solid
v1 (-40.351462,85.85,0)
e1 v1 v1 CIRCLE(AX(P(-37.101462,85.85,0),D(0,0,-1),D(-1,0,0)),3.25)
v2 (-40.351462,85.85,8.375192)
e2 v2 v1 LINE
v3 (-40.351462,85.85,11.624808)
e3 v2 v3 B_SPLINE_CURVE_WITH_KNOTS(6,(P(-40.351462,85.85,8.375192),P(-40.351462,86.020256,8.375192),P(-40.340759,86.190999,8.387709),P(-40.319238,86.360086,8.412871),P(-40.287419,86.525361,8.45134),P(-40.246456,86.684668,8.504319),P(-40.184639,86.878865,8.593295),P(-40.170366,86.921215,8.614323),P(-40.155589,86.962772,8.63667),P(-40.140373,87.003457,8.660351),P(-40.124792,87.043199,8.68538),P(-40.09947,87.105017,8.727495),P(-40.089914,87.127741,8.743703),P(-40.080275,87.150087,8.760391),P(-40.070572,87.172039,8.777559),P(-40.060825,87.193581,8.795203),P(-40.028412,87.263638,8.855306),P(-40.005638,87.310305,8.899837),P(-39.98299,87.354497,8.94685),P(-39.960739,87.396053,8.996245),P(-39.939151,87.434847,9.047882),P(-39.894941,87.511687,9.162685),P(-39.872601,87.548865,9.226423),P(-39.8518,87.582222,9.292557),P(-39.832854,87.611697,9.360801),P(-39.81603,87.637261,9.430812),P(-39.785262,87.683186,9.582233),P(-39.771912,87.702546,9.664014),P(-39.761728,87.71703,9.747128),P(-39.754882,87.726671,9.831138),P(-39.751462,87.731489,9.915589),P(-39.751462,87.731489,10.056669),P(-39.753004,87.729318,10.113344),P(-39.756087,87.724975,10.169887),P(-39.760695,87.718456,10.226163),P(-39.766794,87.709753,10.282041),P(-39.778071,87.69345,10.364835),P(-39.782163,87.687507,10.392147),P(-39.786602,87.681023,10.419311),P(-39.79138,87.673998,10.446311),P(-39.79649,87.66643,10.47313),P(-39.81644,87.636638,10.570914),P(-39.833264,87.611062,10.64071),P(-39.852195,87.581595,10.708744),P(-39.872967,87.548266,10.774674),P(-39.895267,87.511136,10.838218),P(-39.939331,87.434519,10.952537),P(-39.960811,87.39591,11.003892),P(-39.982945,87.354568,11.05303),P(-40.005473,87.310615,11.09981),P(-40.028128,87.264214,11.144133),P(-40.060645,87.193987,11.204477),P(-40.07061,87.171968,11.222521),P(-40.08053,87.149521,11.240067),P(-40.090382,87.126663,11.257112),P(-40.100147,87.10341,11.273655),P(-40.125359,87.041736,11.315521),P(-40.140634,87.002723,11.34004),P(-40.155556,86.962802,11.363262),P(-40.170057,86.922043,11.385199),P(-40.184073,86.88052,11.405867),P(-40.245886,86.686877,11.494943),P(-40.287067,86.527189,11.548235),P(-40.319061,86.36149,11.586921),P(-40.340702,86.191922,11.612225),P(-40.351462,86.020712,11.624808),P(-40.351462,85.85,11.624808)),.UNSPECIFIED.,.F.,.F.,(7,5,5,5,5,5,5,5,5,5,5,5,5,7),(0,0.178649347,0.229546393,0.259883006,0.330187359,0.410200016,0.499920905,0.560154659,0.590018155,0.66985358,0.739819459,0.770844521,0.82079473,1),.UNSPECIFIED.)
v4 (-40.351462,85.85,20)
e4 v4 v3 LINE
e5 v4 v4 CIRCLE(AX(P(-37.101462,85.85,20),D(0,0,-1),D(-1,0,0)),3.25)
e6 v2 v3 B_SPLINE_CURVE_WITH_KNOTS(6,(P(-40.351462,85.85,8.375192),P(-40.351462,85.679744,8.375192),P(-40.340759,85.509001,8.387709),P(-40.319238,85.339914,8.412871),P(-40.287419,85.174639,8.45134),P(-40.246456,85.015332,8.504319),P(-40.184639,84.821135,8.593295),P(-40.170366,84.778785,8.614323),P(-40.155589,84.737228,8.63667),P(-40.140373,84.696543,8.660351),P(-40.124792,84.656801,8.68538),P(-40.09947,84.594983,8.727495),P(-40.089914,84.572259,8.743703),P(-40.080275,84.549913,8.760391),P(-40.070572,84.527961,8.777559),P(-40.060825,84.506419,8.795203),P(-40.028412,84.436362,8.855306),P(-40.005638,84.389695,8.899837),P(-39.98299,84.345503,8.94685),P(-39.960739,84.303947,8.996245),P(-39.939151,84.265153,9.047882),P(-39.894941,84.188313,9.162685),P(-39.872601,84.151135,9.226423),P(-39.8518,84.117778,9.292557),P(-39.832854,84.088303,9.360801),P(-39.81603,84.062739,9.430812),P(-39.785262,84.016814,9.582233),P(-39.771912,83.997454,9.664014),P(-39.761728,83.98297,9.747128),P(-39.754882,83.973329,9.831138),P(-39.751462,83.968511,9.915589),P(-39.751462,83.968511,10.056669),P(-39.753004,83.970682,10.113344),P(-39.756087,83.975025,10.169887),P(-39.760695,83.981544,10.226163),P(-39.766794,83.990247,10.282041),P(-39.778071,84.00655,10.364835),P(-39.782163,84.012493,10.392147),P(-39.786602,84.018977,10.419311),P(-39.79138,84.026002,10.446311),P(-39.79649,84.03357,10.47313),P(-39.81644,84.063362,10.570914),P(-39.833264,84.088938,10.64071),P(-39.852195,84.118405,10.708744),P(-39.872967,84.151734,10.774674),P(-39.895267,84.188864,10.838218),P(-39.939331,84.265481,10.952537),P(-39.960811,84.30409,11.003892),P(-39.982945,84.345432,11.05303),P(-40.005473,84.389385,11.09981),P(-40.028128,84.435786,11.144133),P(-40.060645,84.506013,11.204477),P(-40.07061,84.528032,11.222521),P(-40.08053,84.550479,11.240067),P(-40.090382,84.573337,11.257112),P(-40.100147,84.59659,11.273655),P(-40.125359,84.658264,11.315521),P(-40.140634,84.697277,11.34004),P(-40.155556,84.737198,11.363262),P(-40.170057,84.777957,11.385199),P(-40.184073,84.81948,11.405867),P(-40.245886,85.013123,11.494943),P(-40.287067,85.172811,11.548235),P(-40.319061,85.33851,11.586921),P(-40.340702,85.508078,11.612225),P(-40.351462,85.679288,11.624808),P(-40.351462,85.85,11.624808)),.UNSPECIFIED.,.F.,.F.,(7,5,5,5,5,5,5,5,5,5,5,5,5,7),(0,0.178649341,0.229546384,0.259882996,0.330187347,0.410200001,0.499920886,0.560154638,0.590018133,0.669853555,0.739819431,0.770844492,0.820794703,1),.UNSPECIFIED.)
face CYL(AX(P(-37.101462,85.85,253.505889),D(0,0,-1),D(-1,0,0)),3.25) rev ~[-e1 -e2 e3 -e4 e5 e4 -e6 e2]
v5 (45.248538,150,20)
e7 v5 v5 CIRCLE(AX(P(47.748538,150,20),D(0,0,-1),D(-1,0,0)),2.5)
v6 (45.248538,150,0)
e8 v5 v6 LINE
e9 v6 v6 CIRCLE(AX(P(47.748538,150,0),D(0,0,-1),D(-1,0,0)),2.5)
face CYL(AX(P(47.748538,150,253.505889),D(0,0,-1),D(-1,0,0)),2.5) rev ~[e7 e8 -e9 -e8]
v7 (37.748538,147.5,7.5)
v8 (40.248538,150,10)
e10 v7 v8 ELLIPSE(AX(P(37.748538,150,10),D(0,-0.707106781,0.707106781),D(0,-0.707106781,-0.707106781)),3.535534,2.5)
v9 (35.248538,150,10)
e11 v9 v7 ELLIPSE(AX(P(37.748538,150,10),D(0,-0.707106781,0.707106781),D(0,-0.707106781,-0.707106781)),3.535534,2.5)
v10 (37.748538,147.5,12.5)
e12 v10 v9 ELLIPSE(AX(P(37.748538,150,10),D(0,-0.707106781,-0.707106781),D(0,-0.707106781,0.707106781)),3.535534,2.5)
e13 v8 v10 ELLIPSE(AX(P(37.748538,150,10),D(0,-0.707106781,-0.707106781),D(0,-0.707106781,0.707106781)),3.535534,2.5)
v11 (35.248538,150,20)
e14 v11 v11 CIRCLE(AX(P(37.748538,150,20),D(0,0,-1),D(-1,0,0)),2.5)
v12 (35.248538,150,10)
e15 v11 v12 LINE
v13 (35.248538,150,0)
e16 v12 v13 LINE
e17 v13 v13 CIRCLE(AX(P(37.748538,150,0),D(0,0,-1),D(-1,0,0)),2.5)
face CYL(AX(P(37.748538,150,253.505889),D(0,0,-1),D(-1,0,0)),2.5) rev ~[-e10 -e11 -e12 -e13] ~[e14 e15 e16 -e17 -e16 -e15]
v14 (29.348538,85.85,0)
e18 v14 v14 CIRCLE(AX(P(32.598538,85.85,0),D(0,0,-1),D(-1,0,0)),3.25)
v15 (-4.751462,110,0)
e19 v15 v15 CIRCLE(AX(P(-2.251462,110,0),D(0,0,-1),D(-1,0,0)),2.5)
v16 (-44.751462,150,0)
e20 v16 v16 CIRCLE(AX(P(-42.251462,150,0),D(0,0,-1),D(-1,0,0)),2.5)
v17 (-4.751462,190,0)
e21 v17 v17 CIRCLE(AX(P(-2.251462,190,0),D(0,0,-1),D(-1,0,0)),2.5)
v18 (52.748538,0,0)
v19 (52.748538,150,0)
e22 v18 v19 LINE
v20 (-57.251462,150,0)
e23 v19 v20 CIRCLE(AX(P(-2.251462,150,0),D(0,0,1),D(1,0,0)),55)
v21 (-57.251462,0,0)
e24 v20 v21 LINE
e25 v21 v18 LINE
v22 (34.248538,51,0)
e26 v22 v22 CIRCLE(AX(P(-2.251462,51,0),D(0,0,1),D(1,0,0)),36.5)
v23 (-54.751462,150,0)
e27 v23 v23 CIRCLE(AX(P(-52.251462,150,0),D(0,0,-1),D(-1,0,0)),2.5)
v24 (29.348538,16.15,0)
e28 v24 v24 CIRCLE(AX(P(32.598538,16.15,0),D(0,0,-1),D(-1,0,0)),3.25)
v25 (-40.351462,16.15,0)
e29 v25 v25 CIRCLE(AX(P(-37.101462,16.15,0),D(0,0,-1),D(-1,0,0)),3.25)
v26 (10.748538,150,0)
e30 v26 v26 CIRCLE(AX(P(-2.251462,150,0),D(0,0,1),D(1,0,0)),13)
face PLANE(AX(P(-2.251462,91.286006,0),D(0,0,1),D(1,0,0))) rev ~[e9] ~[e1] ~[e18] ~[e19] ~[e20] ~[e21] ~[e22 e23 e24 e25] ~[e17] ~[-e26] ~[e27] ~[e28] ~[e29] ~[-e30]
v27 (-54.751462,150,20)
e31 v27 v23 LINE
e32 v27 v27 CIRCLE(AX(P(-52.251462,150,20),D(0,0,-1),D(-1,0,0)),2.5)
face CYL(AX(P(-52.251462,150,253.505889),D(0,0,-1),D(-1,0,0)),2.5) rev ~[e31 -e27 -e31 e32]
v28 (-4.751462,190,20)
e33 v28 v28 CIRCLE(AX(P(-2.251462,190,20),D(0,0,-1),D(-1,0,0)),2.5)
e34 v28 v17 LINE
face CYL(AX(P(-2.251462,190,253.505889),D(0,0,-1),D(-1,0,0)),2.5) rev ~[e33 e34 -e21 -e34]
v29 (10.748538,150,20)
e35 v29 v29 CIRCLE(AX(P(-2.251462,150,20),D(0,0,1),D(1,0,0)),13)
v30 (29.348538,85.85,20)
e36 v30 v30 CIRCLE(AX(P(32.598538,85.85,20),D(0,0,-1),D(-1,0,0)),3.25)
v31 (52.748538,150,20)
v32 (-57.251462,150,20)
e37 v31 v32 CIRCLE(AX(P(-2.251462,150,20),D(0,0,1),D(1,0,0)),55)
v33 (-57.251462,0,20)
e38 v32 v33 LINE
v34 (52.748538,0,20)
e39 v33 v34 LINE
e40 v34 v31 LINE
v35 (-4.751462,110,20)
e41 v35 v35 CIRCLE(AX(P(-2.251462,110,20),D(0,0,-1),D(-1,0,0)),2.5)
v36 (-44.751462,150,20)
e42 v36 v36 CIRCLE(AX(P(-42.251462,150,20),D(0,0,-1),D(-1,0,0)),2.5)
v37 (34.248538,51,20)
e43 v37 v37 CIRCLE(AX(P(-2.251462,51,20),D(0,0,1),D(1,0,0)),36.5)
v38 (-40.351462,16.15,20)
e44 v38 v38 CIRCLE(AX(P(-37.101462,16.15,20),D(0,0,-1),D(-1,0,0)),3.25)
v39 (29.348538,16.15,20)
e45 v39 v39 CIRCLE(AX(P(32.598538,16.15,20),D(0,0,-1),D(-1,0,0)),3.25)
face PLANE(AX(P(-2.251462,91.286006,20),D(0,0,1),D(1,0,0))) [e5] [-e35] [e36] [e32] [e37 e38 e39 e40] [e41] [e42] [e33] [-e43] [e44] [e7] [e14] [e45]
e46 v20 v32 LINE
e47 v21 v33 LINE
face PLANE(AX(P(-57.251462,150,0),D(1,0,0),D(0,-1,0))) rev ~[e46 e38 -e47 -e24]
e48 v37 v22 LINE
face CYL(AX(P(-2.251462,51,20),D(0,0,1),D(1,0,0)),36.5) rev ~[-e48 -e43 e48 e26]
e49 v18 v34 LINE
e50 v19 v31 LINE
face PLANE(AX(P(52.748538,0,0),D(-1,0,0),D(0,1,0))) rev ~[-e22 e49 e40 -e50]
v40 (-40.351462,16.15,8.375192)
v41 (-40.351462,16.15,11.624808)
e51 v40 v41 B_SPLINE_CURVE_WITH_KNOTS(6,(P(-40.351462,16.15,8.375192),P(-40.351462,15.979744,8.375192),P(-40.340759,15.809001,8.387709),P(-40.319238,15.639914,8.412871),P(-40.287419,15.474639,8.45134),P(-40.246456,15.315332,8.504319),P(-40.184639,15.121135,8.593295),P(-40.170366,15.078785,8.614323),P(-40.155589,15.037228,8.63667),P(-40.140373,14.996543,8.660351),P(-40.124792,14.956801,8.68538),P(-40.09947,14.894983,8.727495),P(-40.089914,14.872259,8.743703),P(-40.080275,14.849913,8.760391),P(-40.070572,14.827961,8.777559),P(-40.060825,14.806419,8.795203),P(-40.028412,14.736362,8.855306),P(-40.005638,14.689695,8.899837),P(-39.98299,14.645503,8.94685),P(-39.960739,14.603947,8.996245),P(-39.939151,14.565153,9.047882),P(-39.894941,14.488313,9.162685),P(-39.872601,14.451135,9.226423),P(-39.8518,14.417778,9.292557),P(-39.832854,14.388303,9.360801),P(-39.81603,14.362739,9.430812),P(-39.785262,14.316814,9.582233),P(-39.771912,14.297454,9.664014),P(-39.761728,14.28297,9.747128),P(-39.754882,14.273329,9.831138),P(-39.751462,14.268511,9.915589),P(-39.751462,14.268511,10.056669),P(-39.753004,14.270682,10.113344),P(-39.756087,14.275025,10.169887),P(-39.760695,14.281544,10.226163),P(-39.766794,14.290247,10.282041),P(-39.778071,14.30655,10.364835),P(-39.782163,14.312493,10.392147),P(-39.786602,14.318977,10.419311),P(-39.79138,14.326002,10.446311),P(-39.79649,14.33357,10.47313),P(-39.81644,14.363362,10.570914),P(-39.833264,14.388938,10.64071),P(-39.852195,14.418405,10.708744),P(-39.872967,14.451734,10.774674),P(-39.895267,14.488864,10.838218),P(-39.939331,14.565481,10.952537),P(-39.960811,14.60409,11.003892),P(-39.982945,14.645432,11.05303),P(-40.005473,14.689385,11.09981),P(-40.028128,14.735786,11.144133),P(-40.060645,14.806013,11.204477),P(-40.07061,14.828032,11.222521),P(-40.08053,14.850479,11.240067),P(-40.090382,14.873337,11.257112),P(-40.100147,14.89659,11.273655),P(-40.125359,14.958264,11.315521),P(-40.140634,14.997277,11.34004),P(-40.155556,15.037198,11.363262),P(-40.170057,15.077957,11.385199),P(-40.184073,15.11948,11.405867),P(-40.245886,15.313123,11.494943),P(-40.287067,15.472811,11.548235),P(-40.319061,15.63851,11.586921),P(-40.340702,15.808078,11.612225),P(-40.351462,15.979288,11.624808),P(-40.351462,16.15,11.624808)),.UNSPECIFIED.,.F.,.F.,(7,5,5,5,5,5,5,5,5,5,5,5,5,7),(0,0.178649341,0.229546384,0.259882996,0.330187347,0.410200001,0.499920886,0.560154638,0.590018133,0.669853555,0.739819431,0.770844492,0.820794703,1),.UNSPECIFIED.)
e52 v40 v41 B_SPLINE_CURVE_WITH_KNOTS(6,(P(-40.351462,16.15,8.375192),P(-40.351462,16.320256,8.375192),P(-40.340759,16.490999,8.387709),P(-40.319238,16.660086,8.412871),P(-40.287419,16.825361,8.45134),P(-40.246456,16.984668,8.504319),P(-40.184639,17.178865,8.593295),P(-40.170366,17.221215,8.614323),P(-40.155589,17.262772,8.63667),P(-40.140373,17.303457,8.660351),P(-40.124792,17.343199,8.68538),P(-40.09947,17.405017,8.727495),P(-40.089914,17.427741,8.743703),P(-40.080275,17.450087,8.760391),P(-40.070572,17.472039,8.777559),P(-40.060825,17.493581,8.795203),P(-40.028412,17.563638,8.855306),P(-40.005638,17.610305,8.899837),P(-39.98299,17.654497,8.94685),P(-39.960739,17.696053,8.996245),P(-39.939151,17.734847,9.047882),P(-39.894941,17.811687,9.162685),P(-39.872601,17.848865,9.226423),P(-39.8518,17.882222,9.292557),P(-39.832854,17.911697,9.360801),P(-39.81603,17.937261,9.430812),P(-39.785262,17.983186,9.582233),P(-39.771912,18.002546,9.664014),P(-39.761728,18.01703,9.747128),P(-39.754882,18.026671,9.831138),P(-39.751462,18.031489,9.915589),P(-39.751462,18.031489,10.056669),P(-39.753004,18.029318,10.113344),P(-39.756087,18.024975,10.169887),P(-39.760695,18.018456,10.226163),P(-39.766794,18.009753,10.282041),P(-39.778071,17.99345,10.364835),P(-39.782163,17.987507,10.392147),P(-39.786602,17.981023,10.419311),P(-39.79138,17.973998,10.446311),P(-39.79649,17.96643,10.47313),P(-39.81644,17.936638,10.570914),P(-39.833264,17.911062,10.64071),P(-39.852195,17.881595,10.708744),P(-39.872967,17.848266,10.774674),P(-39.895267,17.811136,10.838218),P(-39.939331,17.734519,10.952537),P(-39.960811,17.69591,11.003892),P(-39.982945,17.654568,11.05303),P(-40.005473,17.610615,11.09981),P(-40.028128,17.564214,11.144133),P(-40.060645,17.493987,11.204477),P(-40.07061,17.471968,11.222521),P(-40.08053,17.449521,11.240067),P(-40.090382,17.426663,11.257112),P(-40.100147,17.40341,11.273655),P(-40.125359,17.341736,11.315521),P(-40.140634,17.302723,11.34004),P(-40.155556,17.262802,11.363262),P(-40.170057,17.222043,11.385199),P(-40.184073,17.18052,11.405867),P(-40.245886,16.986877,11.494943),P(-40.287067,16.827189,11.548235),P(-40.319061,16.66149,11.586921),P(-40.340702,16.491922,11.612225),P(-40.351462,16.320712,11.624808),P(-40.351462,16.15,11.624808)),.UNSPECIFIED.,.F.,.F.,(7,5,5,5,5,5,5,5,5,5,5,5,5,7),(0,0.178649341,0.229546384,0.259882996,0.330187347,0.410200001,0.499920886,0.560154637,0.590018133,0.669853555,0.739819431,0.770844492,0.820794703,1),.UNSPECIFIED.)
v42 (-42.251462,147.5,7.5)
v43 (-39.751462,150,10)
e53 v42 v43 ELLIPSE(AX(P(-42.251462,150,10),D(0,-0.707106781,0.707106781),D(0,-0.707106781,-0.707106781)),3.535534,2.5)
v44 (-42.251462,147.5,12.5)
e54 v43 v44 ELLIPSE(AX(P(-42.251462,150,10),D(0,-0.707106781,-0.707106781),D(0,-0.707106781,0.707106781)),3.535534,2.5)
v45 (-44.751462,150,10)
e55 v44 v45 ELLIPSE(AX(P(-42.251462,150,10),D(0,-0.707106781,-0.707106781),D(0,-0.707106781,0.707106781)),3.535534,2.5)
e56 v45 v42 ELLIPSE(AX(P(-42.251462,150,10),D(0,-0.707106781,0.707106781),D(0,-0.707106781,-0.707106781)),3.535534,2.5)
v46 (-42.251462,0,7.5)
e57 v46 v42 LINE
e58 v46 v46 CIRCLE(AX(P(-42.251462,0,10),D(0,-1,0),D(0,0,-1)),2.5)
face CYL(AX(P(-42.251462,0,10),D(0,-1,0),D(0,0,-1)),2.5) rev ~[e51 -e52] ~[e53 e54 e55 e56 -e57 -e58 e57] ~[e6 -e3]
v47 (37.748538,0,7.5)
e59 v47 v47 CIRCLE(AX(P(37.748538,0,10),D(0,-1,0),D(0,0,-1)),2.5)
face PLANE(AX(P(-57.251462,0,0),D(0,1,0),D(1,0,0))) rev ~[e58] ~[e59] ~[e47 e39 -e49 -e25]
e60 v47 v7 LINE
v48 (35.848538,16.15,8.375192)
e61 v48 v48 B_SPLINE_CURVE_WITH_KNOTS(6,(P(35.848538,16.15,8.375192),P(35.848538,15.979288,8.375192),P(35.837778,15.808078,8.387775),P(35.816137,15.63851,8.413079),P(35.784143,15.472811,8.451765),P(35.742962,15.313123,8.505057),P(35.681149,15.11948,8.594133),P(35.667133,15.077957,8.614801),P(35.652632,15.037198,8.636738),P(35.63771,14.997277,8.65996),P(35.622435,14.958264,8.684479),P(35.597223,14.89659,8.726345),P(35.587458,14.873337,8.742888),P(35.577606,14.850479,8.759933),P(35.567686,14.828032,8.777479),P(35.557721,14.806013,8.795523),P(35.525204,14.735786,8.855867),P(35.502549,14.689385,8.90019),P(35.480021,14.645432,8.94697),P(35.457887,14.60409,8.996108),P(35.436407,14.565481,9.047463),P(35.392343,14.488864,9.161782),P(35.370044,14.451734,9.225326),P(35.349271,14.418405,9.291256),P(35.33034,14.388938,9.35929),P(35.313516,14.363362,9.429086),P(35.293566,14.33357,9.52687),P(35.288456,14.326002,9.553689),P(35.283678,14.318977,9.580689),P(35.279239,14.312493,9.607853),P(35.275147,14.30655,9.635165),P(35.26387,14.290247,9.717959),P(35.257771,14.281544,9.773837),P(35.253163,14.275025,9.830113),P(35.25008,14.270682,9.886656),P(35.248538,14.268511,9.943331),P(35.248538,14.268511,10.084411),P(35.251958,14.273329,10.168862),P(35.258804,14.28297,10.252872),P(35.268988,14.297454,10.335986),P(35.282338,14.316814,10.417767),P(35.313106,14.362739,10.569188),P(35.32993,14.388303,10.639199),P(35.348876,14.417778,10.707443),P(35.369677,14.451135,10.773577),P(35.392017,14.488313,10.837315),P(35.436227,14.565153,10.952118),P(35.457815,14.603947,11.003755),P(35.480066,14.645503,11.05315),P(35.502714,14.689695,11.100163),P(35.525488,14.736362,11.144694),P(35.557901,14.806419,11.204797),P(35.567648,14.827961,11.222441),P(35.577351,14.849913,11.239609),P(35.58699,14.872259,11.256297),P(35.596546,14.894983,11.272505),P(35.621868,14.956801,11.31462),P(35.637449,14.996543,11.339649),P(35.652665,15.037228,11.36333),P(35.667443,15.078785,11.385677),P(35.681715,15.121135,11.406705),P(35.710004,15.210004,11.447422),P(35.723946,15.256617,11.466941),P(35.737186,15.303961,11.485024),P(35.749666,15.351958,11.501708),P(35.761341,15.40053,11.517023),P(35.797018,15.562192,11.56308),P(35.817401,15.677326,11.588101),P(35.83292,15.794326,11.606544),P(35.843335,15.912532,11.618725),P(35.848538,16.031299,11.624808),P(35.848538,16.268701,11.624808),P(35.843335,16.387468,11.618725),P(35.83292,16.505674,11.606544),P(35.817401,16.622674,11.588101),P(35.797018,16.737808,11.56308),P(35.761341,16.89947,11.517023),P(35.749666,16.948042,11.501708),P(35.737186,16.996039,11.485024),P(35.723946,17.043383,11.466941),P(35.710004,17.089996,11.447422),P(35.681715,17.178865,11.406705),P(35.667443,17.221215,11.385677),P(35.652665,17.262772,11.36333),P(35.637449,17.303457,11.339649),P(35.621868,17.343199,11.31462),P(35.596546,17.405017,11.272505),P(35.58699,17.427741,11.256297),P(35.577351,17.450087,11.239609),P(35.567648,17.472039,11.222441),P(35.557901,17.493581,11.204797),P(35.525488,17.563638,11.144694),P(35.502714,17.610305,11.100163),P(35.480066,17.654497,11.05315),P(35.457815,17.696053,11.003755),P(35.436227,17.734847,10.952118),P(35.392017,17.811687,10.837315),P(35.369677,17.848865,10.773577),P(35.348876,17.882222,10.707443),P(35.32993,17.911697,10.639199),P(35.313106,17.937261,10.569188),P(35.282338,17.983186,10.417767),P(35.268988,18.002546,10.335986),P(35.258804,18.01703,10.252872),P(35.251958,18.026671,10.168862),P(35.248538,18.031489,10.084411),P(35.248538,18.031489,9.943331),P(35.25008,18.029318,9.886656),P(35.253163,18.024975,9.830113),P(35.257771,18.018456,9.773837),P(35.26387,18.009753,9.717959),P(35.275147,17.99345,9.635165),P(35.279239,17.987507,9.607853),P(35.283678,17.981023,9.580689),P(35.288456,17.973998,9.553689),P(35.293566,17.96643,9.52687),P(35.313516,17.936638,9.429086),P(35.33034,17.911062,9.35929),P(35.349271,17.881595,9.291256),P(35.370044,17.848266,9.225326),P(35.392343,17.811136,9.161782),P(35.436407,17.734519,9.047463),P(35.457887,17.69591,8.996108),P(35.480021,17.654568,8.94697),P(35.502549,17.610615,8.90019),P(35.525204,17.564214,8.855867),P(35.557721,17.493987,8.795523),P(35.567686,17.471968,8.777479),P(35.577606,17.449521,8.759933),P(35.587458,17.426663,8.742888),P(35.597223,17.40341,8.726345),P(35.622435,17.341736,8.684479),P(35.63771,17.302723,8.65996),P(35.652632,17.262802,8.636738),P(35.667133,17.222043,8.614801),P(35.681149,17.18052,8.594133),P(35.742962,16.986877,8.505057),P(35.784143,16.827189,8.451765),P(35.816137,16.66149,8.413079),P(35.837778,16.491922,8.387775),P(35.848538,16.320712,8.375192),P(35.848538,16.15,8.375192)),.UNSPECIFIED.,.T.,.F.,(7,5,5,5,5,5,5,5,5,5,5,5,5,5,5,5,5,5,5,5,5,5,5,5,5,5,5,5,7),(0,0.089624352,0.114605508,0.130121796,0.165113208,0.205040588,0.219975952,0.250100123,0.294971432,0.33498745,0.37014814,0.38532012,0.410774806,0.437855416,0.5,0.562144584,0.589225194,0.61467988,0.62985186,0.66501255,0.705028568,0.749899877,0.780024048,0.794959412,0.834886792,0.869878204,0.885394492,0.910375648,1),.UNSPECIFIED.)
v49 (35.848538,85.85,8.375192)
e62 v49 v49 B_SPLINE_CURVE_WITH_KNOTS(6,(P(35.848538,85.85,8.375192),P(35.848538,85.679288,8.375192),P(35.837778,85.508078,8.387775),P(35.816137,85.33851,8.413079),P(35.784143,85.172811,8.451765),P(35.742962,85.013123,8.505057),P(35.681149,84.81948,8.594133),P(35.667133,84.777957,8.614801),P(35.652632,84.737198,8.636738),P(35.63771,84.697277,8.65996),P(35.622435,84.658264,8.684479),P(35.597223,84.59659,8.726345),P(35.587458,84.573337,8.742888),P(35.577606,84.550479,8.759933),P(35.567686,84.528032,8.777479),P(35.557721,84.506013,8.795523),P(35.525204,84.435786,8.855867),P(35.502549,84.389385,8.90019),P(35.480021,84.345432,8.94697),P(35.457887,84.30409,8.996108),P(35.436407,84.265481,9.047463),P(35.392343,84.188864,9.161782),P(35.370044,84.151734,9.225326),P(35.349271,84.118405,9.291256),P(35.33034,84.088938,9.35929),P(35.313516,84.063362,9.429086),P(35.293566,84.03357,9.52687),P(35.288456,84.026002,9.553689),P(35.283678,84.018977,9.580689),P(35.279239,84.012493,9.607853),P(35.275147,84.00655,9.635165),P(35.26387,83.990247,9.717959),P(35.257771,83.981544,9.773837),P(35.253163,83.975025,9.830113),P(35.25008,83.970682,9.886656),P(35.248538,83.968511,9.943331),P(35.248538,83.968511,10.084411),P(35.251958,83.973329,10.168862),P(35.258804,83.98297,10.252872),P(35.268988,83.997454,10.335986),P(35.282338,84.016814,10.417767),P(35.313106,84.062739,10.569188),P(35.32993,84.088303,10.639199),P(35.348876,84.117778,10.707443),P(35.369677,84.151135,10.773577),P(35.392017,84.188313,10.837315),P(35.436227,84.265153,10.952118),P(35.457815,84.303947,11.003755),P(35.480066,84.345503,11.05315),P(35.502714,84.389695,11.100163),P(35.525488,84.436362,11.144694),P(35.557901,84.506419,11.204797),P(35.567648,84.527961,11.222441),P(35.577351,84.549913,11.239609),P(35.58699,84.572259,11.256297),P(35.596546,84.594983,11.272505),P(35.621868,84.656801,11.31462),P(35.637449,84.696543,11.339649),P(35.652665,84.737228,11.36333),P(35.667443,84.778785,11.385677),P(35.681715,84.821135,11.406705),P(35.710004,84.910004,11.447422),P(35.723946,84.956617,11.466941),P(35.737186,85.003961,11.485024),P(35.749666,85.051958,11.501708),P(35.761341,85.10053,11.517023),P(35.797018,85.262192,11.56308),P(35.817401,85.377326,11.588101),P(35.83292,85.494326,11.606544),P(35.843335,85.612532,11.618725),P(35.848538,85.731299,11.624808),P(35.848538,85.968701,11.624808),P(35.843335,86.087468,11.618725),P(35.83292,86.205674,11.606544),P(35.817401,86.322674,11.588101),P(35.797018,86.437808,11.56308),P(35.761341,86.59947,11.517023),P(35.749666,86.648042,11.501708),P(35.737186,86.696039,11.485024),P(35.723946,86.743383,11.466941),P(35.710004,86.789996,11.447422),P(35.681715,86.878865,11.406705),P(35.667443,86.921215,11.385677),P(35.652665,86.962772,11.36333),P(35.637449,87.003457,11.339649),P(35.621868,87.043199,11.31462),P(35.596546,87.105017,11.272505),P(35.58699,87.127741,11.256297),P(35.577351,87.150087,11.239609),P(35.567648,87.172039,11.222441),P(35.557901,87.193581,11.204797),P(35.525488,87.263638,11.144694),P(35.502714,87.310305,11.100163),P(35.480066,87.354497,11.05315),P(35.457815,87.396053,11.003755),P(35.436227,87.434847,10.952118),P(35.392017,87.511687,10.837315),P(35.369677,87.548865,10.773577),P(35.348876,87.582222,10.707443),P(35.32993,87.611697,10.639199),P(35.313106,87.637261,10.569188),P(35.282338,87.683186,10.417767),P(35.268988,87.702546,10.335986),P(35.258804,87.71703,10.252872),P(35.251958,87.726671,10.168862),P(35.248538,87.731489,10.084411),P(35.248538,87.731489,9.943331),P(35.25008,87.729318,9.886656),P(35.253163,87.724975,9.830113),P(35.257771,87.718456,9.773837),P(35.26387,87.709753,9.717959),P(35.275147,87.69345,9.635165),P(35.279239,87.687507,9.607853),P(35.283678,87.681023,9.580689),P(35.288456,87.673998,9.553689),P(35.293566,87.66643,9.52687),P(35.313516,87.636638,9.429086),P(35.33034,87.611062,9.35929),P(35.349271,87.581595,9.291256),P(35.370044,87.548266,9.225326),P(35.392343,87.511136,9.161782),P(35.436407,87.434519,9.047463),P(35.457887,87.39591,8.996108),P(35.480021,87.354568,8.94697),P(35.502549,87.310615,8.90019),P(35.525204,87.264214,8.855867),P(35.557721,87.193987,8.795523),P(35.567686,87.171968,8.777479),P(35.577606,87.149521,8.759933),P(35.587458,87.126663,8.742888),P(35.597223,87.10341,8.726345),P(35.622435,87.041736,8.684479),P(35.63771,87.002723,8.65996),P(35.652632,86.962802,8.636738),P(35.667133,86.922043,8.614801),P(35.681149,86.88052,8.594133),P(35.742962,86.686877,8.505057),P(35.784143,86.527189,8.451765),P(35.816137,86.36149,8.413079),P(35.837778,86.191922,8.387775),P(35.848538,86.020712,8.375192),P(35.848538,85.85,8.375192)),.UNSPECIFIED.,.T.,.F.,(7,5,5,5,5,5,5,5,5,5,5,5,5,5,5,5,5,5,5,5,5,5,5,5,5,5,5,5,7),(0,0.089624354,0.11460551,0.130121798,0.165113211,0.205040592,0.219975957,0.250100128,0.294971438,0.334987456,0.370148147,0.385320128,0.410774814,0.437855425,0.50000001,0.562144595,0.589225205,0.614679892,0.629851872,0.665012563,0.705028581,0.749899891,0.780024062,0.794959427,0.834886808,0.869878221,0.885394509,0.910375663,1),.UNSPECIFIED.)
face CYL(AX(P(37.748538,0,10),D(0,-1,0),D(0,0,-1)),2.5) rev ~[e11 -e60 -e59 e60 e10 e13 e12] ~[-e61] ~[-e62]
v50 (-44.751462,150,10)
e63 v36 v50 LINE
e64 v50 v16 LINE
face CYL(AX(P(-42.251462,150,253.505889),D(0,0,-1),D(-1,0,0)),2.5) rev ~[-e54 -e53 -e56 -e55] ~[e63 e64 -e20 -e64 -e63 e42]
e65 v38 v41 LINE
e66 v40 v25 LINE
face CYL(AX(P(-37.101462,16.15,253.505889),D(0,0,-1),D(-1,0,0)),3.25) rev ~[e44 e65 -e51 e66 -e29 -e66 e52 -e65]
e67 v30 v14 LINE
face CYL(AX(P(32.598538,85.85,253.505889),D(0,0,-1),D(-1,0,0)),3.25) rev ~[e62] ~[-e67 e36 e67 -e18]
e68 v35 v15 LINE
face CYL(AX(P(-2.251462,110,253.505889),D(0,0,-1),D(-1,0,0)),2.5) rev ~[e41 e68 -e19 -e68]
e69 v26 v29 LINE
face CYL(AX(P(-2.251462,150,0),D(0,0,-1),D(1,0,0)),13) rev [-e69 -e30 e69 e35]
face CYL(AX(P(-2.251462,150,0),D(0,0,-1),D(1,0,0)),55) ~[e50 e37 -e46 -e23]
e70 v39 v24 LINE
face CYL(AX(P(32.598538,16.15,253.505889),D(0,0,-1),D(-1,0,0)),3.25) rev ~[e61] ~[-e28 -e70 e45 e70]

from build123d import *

# Parameters (mm, degrees)
SKETCH1_R                  = 13
BOSS_EXTRUDE1_DEPTH        = 20
F_5_0MM_DOWEL_HOLE1_D      = 5
F_5_0MM_DOWEL_HOLE2_REACH  = 228.164
F_5_0MM_DOWEL_HOLE2_BORE_R = 2.5
F_5_0MM_DOWEL_HOLE3_D      = 5
SKETCH9_R                  = 36.5
CUT_EXTRUDE1_DEPTH         = 214.781968135
F_6_0MM_DOWEL_HOLE1_D      = 6.5


with BuildPart() as part:
    # Sketch1 → Boss-Extrude1 (new body)
    with BuildSketch(Plane.XY):
        with BuildLine():
            Line((-57.251461988, 0), (52.748538012, 0))
            Line((52.748538012, 0), (52.748538012, 150))
            ThreePointArc((52.748538012, 150), (-2.251461988, 205), (-57.251461988, 150))
            Line((-57.251461988, 150), (-57.251461988, 0))
        make_face()
        with Locations((-2.251461988, 150)):
            Circle(SKETCH1_R, mode=Mode.SUBTRACT)
    extrude(amount=BOSS_EXTRUDE1_DEPTH)

    # Ø5.0mm Dowel Hole1 (through all)
    with Locations(Plane(origin=(-2.251461988, 190, 20), x_dir=(1, 0, 0), z_dir=(0, 0, 1))):
        with Locations((0, 0), (40, -40), (0, -80), (-40, -40)):
            Hole(F_5_0MM_DOWEL_HOLE1_D / 2)

    # Ø5.0mm Dowel Hole2 bore (on position points) → Ø5.0mm Dowel Hole2 (cut, up to next)
    with BuildSketch(Plane(origin=(-42.251461988, 0, 10), x_dir=(0, 0, -1), z_dir=(0, -1, 0)), mode=Mode.PRIVATE) as f_5_0mm_dowel_hole2_sk1:
        Circle(F_5_0MM_DOWEL_HOLE2_BORE_R)
    f_5_0mm_dowel_hole2_tool1 = extrude(f_5_0mm_dowel_hole2_sk1.sketch, amount=-F_5_0MM_DOWEL_HOLE2_REACH, mode=Mode.PRIVATE) & part.part
    # Ø5.0mm Dowel Hole2 bore (on position points) → Ø5.0mm Dowel Hole2 (cut, up to next)
    with BuildSketch(Plane(origin=(-42.251461988, 0, 10), x_dir=(0, 0, -1), z_dir=(0, -1, 0)), mode=Mode.PRIVATE) as f_5_0mm_dowel_hole2_sk2:
        with Locations((0, 80)):
            Circle(F_5_0MM_DOWEL_HOLE2_BORE_R)
    f_5_0mm_dowel_hole2_tool2 = extrude(f_5_0mm_dowel_hole2_sk2.sketch, amount=-F_5_0MM_DOWEL_HOLE2_REACH, mode=Mode.PRIVATE) & part.part
    add(f_5_0mm_dowel_hole2_tool1.solids().sort_by_distance((-42.251462, 0, 10))[0], mode=Mode.SUBTRACT)
    add(f_5_0mm_dowel_hole2_tool2.solids().sort_by_distance((37.748538, 0, 10))[0], mode=Mode.SUBTRACT)

    # Ø5.0mm Dowel Hole3 (through all)
    with Locations(Plane(origin=(-52.251461988, 150, 20), x_dir=(1, 0, 0), z_dir=(0, 0, 1))):
        with Locations((0, 0), (100, 0)):
            Hole(F_5_0MM_DOWEL_HOLE3_D / 2)

    # Sketch9 → Cut-Extrude1 (cut, through all)
    with BuildSketch(Plane.XY.offset(20)):
        with Locations((-2.251461988, 51)):
            Circle(SKETCH9_R)
    extrude(amount=-CUT_EXTRUDE1_DEPTH, mode=Mode.SUBTRACT)

    # Ø6.0mm Dowel Hole1 (through all)
    with Locations(Plane(origin=(-37.101461988, 85.85, 20), x_dir=(1, 0, 0), z_dir=(0, 0, 1))):
        with Locations((0, 0), (69.7, 0), (69.7, -69.7), (0, -69.7)):
            Hole(F_6_0MM_DOWEL_HOLE1_D / 2)


solid = part.part
